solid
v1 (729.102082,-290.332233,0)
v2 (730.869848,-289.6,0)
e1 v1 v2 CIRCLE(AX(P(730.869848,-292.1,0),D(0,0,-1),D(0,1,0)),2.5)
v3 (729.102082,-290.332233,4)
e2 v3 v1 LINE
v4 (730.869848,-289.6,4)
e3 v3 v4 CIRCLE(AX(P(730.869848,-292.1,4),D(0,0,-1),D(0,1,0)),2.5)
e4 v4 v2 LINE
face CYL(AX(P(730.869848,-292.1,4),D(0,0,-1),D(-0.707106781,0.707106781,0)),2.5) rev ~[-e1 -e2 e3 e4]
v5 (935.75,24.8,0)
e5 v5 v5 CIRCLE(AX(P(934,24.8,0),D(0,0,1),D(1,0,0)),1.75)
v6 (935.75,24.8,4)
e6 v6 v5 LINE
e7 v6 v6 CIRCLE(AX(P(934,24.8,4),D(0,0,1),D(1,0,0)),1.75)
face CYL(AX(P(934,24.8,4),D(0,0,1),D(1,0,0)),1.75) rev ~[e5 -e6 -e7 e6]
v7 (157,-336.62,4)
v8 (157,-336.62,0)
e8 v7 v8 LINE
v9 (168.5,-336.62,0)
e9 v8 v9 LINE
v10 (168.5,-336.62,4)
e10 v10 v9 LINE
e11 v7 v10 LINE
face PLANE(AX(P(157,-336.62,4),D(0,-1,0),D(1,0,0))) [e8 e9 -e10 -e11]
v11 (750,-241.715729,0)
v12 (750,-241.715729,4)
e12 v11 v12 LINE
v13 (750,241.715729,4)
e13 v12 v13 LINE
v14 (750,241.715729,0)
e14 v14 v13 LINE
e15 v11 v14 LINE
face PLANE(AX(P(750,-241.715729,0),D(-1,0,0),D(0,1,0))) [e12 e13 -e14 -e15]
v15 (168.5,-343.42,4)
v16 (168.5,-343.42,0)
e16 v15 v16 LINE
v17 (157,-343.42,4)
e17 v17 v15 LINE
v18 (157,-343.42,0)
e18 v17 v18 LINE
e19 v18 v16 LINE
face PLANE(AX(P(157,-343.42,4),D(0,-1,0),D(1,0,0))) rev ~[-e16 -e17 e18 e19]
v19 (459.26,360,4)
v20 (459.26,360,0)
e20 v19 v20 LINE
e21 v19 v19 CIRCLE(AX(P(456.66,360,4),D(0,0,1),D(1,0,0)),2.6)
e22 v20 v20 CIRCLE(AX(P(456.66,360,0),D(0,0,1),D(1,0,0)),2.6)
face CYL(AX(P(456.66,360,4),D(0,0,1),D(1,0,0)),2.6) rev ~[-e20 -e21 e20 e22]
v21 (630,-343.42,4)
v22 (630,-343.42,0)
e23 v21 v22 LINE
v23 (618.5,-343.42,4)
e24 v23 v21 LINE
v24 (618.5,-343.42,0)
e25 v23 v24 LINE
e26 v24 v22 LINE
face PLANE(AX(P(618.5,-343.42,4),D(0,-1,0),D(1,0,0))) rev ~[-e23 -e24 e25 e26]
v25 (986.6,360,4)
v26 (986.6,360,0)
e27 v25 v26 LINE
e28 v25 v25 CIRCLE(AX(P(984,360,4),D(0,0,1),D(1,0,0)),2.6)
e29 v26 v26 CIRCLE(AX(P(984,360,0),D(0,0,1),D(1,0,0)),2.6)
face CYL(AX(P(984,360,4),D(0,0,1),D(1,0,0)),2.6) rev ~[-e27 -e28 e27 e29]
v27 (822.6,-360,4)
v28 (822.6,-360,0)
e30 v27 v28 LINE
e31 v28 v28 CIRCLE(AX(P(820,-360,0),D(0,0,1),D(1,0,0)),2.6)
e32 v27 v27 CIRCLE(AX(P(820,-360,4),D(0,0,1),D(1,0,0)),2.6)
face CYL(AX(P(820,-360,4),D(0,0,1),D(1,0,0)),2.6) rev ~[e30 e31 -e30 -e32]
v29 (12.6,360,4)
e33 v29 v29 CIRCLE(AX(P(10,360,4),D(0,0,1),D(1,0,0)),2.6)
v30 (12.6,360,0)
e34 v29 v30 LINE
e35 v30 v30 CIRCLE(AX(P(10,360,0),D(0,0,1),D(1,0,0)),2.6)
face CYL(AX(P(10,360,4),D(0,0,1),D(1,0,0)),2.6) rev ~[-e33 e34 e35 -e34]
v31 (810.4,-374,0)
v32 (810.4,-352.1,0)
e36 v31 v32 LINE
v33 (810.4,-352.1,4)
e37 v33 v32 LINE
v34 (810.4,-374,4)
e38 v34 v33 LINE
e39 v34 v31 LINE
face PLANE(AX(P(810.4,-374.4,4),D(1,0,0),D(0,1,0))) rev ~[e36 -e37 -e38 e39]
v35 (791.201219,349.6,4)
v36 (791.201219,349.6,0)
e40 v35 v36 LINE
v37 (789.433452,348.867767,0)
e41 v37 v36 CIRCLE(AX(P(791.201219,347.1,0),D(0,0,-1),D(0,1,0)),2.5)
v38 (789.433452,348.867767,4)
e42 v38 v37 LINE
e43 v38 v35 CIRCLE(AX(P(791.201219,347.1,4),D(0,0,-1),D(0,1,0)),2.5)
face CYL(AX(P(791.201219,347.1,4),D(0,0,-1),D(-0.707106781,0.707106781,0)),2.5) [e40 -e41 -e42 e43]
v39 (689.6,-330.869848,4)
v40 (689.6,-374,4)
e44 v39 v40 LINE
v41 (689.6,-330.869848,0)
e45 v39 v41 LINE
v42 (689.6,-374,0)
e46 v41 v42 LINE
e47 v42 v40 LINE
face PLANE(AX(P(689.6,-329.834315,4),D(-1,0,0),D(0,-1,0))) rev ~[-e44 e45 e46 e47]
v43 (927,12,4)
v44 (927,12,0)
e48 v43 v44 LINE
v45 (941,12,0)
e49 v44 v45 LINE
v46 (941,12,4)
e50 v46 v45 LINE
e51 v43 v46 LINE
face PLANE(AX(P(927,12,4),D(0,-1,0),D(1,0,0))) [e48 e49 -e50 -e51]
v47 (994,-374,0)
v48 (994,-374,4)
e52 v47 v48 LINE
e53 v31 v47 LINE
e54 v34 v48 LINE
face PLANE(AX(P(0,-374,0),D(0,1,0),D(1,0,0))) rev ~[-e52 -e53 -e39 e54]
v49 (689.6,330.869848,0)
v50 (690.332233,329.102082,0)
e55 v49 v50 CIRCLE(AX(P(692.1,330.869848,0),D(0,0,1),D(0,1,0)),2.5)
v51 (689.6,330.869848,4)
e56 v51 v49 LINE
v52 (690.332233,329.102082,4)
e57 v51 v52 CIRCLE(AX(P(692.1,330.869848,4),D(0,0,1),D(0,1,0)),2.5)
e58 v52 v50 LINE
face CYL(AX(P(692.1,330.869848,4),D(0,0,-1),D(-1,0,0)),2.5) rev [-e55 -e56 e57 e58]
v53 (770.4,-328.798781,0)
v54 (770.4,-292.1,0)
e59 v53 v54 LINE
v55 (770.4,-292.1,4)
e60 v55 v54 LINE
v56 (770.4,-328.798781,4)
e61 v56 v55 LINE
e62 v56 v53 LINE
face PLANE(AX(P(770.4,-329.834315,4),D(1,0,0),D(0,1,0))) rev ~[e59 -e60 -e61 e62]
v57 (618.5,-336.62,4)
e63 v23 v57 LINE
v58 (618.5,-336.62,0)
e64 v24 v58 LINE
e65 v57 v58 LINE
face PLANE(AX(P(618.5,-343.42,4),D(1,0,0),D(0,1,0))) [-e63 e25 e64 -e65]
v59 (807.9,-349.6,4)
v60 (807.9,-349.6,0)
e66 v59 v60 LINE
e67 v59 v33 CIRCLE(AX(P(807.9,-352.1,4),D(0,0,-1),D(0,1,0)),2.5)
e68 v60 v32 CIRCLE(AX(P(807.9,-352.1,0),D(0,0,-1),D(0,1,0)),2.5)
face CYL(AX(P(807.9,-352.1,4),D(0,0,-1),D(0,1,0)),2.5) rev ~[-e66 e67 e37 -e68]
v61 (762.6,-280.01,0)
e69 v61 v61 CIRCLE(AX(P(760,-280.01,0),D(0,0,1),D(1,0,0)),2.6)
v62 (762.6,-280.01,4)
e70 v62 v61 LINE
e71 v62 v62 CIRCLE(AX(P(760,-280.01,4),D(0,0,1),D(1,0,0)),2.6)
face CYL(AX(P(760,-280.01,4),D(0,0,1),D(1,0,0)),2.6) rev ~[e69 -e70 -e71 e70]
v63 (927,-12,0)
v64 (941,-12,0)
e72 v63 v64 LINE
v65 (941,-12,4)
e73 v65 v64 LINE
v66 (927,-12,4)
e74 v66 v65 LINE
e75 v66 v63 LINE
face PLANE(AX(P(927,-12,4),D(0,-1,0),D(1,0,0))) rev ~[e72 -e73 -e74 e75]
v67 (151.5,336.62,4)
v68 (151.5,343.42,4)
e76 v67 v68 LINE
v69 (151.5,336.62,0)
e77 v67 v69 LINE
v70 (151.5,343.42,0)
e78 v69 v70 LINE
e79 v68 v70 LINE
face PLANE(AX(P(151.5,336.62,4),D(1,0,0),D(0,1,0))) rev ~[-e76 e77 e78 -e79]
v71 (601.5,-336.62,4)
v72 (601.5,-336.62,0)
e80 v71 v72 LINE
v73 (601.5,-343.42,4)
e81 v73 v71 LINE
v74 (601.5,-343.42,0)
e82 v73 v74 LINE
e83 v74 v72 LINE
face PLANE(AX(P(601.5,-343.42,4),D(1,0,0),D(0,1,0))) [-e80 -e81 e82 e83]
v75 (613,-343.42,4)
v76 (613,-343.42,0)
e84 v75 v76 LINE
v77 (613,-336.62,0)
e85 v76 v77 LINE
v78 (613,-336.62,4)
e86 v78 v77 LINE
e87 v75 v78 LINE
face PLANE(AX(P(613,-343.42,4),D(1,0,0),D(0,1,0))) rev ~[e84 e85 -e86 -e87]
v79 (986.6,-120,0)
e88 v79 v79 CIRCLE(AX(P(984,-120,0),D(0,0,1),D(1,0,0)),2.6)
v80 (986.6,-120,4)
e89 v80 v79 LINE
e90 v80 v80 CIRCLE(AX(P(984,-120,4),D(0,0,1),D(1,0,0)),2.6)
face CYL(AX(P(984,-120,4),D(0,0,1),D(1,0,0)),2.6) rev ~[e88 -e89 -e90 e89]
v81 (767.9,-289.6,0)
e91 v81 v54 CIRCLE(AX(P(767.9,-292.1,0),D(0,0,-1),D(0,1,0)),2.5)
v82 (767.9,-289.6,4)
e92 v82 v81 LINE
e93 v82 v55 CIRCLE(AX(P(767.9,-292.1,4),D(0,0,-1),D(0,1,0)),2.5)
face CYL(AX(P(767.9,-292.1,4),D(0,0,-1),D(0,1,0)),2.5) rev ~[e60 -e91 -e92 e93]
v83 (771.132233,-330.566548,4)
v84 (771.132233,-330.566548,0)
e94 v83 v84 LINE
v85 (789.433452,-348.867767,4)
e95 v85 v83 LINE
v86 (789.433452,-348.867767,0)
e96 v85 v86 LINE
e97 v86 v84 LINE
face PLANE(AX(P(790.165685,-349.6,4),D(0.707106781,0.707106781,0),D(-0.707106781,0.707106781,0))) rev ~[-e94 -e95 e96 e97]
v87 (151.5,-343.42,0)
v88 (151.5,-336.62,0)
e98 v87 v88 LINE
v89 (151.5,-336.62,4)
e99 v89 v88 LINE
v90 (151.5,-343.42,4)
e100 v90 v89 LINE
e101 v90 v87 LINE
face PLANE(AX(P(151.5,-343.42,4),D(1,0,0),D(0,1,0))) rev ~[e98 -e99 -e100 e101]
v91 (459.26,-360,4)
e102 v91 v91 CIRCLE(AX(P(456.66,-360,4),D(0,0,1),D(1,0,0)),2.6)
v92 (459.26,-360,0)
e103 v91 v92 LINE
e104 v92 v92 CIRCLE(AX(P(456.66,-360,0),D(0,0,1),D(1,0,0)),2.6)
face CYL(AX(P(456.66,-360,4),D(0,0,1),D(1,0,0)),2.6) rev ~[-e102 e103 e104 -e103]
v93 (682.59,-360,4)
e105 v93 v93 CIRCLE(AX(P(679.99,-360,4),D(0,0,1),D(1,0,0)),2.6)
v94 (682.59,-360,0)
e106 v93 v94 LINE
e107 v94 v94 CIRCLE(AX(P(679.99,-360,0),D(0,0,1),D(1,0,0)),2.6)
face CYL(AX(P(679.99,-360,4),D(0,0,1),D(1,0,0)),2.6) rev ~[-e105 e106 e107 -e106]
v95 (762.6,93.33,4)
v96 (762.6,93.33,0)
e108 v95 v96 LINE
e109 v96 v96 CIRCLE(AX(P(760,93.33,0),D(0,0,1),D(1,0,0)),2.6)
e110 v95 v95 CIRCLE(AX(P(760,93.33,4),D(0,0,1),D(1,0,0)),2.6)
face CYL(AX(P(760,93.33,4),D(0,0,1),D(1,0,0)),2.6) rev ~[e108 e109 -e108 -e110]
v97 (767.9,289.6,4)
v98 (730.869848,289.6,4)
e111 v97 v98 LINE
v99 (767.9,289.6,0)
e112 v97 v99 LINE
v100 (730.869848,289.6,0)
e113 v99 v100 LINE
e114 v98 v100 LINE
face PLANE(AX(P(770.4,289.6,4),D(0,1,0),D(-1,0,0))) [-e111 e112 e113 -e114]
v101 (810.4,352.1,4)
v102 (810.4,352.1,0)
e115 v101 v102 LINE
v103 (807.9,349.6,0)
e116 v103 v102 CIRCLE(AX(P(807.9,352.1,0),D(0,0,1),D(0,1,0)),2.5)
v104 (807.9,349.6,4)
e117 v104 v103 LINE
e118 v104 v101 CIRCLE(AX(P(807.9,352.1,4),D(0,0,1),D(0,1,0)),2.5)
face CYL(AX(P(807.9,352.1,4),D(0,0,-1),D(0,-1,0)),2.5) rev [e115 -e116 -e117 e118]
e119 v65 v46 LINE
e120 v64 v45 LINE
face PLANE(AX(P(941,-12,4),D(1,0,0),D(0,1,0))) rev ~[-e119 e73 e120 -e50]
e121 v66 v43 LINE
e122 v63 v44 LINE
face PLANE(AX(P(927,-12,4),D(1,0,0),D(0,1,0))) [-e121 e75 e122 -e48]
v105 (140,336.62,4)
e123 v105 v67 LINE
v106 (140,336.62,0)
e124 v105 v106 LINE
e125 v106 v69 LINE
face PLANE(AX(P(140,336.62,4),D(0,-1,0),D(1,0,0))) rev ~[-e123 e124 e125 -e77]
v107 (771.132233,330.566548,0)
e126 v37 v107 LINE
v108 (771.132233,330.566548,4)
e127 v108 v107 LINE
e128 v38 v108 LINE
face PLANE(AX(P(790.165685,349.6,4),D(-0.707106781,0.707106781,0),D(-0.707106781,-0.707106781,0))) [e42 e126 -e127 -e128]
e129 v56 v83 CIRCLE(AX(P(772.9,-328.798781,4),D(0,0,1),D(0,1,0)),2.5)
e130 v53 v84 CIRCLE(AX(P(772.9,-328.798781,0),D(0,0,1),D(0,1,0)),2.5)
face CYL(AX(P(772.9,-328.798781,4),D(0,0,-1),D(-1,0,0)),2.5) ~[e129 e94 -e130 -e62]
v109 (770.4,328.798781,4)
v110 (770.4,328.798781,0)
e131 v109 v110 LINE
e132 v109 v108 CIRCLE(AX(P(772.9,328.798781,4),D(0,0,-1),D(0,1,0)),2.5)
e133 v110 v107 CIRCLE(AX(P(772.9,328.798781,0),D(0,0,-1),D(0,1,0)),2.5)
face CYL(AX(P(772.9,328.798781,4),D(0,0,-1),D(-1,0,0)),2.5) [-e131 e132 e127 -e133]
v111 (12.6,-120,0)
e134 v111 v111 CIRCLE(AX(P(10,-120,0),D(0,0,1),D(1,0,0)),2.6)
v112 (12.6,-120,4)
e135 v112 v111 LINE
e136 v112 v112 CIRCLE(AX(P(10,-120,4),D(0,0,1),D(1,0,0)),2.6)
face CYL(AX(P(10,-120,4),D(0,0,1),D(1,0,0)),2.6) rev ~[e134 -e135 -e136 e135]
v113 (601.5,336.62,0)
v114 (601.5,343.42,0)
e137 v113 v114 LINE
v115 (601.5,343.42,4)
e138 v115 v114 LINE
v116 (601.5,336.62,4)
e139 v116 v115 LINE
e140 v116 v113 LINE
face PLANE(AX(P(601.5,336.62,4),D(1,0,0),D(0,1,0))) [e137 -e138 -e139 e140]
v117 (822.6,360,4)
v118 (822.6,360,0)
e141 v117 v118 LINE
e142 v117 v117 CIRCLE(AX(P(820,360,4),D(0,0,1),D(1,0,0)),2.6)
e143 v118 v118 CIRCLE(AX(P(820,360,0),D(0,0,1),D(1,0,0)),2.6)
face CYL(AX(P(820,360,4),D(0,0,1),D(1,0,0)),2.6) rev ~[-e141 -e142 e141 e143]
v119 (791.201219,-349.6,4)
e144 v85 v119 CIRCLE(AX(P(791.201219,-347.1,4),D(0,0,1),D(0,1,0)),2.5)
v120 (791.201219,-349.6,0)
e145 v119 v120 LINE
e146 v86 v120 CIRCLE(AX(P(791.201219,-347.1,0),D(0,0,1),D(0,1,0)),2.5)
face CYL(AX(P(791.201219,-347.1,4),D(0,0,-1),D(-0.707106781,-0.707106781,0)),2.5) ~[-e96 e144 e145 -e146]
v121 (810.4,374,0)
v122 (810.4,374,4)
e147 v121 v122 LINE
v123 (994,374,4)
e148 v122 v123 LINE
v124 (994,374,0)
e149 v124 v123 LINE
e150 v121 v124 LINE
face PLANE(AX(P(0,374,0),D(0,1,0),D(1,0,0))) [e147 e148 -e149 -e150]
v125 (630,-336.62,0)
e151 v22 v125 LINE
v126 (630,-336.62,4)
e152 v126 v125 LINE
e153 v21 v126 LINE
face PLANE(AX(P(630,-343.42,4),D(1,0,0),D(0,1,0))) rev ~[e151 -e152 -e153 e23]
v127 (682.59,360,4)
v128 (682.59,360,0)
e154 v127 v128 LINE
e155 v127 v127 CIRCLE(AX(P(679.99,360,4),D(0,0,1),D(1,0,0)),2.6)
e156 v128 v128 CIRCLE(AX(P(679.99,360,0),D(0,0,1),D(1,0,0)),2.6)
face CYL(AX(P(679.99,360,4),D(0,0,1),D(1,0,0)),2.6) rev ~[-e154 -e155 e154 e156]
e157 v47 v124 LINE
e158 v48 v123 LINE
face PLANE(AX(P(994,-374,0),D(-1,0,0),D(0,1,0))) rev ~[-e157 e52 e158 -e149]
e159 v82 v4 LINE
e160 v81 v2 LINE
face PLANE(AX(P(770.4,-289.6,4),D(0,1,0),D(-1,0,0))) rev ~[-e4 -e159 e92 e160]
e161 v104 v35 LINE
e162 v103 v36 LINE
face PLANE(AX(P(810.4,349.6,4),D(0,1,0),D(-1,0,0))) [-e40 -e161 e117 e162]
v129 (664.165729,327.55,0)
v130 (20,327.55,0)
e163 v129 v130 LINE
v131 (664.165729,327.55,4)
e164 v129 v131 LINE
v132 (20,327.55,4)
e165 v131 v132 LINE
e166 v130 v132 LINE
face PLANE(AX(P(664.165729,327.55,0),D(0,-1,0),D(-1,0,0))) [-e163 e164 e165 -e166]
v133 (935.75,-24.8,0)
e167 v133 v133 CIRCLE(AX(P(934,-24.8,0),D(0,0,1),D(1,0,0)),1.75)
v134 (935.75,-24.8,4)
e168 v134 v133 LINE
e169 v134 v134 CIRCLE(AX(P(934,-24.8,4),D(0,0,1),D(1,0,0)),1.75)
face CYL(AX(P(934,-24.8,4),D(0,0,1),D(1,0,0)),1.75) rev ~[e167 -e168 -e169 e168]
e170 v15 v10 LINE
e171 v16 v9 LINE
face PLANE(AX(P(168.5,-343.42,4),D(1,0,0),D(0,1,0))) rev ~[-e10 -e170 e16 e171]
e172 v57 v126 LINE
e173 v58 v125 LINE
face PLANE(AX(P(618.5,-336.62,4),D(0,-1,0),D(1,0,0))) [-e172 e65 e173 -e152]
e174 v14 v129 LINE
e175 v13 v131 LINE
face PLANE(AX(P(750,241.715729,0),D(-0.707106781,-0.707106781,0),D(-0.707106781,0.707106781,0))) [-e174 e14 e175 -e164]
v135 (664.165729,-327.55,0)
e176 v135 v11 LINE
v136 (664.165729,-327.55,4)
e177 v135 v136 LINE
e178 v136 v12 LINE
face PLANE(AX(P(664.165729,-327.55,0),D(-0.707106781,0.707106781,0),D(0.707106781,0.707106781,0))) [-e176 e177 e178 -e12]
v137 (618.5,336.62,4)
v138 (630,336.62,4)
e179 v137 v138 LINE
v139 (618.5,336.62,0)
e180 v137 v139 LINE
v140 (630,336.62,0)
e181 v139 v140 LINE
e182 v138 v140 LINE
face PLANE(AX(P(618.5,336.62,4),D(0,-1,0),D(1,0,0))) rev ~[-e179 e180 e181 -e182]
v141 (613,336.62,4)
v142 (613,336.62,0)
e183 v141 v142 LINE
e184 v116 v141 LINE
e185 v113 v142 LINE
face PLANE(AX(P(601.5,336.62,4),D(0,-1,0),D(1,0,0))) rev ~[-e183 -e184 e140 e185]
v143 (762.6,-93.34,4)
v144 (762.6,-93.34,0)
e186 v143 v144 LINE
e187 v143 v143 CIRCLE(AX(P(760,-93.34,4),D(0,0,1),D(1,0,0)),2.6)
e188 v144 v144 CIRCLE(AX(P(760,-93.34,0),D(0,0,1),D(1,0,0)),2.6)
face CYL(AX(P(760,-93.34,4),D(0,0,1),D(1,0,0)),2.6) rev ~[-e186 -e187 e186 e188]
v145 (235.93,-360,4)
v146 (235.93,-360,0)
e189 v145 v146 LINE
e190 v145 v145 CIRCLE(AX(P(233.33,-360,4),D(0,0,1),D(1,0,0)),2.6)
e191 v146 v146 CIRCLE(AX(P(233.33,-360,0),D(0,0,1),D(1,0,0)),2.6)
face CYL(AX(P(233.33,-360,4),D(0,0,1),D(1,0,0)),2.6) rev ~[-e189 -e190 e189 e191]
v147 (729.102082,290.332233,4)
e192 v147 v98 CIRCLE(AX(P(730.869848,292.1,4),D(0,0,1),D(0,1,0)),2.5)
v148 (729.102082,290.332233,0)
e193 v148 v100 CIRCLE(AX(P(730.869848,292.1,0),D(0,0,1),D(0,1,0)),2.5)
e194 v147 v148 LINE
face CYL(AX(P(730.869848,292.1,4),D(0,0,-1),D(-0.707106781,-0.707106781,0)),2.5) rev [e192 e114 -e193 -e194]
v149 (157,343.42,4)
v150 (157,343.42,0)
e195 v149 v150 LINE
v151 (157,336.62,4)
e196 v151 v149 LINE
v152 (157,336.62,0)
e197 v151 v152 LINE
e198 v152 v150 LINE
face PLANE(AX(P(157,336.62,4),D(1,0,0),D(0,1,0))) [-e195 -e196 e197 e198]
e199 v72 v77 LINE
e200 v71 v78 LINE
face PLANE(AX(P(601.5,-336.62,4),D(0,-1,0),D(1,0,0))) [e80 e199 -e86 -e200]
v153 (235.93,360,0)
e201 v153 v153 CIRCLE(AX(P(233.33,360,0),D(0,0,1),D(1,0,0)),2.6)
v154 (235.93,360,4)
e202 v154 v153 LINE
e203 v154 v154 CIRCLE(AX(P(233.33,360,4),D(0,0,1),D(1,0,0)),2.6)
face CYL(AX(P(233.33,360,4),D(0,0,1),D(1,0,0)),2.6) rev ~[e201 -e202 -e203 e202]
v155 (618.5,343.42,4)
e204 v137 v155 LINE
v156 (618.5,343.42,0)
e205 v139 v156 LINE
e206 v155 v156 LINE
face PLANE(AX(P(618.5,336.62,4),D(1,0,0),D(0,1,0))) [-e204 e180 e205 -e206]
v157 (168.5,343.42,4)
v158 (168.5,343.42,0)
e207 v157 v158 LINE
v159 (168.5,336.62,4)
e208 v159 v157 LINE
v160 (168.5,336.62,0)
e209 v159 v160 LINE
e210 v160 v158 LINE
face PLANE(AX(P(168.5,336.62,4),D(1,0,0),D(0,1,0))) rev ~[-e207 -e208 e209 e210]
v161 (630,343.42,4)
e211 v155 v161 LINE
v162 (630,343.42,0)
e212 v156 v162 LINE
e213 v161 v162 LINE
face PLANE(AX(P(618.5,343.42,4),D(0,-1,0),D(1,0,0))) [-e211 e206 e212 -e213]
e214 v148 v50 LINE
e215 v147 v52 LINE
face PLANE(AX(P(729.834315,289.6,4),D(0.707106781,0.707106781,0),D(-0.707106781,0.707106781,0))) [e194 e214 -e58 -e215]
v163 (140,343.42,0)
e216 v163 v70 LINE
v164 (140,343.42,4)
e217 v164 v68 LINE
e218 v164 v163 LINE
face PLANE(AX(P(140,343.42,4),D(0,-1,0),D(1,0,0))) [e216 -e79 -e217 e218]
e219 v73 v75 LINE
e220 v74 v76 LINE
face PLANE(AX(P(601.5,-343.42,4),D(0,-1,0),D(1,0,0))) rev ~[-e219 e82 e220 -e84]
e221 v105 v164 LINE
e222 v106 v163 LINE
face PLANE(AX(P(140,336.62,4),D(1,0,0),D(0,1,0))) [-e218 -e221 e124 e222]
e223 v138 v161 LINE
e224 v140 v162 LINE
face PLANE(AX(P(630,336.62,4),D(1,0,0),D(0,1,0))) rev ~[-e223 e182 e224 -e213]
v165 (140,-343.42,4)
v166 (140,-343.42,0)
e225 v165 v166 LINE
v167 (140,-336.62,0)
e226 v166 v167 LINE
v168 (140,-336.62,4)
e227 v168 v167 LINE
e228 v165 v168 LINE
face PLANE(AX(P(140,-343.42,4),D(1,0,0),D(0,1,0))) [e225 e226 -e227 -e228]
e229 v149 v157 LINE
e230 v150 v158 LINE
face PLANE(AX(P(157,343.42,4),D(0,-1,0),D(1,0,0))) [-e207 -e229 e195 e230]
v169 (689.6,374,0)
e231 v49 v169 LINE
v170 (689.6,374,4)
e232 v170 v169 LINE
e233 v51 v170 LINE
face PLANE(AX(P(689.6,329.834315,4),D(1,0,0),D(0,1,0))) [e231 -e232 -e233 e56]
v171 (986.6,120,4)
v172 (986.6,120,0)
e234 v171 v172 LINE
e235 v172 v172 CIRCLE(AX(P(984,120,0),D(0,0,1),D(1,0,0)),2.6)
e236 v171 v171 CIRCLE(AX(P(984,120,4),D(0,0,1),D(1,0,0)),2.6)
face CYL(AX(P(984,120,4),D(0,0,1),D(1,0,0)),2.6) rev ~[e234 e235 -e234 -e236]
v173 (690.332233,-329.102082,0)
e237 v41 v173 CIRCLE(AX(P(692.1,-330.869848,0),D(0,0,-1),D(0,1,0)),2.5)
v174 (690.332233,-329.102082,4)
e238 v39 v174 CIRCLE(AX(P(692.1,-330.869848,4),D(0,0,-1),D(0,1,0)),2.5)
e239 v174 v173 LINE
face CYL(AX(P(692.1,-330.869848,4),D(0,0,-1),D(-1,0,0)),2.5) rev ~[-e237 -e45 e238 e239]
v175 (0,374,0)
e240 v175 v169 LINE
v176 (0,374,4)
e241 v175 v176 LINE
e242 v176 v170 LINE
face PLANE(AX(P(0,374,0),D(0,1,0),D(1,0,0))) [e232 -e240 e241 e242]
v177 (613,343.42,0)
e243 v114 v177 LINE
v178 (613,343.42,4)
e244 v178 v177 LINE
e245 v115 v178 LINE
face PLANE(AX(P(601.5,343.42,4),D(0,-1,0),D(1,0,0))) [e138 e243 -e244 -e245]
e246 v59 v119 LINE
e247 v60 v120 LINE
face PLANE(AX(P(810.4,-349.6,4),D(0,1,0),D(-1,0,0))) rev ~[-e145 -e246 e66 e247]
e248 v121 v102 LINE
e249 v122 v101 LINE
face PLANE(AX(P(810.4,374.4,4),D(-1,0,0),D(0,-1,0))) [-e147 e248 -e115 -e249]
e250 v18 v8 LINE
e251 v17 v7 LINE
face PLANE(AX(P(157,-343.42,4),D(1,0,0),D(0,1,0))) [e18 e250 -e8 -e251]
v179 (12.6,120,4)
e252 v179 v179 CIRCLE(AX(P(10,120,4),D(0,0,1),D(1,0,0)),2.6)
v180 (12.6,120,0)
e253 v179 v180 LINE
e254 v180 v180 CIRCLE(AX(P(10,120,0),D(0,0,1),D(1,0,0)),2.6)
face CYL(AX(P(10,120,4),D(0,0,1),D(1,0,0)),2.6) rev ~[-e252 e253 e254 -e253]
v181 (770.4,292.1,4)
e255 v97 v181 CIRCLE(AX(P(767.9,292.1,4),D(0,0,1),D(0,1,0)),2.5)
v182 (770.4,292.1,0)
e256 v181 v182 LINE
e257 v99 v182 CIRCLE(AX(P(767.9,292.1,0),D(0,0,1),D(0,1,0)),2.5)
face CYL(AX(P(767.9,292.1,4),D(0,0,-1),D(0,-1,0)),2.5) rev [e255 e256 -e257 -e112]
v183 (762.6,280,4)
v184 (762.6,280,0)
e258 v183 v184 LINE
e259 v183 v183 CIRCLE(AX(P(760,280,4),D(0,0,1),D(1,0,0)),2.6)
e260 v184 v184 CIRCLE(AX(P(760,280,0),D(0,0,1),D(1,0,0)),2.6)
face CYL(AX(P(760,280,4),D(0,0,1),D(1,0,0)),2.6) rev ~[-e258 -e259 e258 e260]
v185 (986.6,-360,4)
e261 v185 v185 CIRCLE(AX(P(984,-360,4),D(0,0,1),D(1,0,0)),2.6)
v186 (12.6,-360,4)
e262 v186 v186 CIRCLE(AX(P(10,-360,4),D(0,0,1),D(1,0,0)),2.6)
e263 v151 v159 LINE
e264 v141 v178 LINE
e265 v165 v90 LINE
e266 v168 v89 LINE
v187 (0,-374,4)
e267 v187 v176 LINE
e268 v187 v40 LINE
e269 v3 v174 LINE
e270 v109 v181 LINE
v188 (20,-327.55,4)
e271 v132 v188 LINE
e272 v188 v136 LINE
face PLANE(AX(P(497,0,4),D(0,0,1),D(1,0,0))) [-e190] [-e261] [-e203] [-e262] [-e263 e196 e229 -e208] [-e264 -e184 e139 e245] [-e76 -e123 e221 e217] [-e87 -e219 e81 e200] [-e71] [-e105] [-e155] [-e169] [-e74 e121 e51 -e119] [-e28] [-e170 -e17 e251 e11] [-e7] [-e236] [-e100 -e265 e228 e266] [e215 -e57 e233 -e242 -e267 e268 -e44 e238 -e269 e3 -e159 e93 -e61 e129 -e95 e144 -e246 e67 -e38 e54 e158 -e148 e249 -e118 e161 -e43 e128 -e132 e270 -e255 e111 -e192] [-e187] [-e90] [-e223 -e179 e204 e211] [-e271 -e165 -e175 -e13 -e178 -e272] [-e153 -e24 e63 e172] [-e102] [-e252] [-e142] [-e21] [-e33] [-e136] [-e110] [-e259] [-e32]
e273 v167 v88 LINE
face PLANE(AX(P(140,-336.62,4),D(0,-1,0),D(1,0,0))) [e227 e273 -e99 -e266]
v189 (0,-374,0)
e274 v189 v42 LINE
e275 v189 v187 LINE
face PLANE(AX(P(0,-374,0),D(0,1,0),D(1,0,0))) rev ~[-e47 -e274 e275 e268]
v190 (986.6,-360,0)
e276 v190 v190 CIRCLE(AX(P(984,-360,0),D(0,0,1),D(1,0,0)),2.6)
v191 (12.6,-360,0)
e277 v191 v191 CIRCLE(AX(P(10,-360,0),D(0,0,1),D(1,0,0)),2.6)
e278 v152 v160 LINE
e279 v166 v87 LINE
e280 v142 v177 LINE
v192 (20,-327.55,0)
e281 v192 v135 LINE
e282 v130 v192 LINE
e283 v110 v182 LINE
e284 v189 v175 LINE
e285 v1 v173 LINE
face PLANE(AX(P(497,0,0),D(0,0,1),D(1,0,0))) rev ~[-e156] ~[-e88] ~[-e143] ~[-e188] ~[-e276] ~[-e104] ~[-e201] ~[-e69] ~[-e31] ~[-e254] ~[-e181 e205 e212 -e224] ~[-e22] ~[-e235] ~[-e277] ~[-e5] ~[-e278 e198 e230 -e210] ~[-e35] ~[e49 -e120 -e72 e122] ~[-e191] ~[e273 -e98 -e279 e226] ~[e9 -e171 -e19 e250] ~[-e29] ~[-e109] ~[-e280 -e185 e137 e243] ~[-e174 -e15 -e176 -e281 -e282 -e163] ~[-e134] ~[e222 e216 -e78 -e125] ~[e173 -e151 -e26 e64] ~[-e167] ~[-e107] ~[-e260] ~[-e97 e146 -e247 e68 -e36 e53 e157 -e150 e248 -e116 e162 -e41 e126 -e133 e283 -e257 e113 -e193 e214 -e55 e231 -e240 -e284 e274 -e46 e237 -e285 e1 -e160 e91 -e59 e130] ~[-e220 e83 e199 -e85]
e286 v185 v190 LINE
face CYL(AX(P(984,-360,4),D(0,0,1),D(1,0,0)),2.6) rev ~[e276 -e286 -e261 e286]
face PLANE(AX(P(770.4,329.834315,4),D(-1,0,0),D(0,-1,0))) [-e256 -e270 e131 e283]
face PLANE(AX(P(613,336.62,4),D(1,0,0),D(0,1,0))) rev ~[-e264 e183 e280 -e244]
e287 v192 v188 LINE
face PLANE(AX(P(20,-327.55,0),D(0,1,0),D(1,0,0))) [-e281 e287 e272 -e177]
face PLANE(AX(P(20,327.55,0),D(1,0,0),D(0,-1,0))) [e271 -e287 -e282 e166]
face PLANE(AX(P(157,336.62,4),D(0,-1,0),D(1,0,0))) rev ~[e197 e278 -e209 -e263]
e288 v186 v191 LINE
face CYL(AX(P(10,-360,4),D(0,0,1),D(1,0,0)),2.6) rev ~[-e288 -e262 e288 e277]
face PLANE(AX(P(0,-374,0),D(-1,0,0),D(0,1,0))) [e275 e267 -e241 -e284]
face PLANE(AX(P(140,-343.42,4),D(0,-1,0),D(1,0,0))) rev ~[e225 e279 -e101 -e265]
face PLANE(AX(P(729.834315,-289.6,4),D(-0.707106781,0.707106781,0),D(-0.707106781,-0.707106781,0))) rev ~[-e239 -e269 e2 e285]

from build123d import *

# Parameters (mm, degrees)
SKETCH_1_W          = 994
SKETCH_1_H          = 748
EXTRUDE_1_DEPTH     = 4
CUT_EXTRUDE_6_DEPTH = 1063.039547286
SKETCH_2_W          = 11.5
SKETCH_2_H          = 6.8
CUT_EXTRUDE_1_DEPTH = 1063.039547286
SKETCH_3_R          = 2.6
CUT_EXTRUDE_4_DEPTH = 1063.039547286
SKETCH_6_R          = 1.75
SKETCH_6_W          = 14
SKETCH_6_H          = 24
CUT_EXTRUDE_7_DEPTH = 1063.039547286
FILLET_1_R          = 2.5


with BuildPart() as part:
    # Эскиз1 → Бобышка-Вытянуть1 (new body)
    with BuildSketch(Plane.XY):
        with Locations((497, 0)):
            Rectangle(SKETCH_1_W, SKETCH_1_H)
        Polygon((20, 327.55), (20, -327.55), (664.165728753, -327.55), (750, -241.715728753), (750, 241.715728753), (664.165728753, 327.55), align=None, mode=Mode.SUBTRACT)
    extrude(amount=EXTRUDE_1_DEPTH)

    # Эскиз5 → Вырез-Вытянуть6 (cut, through all)
    with BuildSketch(Plane.XY.offset(4)):
        Polygon((689.6, 329.834314575), (689.6, 374.4), (810.4, 374.4), (810.4, 349.6), (790.165685425, 349.6), (770.4, 329.834314575), (770.4, 289.6), (729.834314575, 289.6), align=None)
        Polygon((770.4, -329.834314575), (770.4, -289.6), (729.834314575, -289.6), (689.6, -329.834314575), (689.6, -374.4), (810.4, -374.4), (810.4, -349.6), (790.165685425, -349.6), align=None)
    extrude(amount=-CUT_EXTRUDE_6_DEPTH, mode=Mode.SUBTRACT)

    # Эскиз2 → Вырез-Вытянуть1 (cut, through all)
    with BuildSketch(Plane.XY.offset(4)):
        with Locations((607.25, 340.02)):
            Rectangle(SKETCH_2_W, SKETCH_2_H)
        with Locations((624.25, 340.02)):
            Rectangle(SKETCH_2_W, SKETCH_2_H)
        with Locations((624.25, -340.02)):
            Rectangle(SKETCH_2_W, SKETCH_2_H)
        with Locations((607.25, -340.02)):
            Rectangle(SKETCH_2_W, SKETCH_2_H)
        with Locations((145.75, 340.02)):
            Rectangle(SKETCH_2_W, SKETCH_2_H)
        with Locations((162.75, 340.02)):
            Rectangle(SKETCH_2_W, SKETCH_2_H)
        with Locations((145.75, -340.02)):
            Rectangle(SKETCH_2_W, SKETCH_2_H)
        with Locations((162.75, -340.02)):
            Rectangle(SKETCH_2_W, SKETCH_2_H)
    extrude(amount=-CUT_EXTRUDE_1_DEPTH, mode=Mode.SUBTRACT)

    # Эскиз3 → Вырез-Вытянуть4 (cut, through all)
    with BuildSketch(Plane.XY.offset(4)):
        with Locations((10, 360)):
            Circle(SKETCH_3_R)
        with Locations((10, 120)):
            Circle(SKETCH_3_R)
        with Locations((10, -120)):
            Circle(SKETCH_3_R)
        with Locations((10, -360)):
            Circle(SKETCH_3_R)
        with Locations((233.33, 360)):
            Circle(SKETCH_3_R)
        with Locations((456.66, 360)):
            Circle(SKETCH_3_R)
        with Locations((679.99, 360)):
            Circle(SKETCH_3_R)
        with Locations((233.33, -360)):
            Circle(SKETCH_3_R)
        with Locations((456.66, -360)):
            Circle(SKETCH_3_R)
        with Locations((679.99, -360)):
            Circle(SKETCH_3_R)
        with Locations((984, 360)):
            Circle(SKETCH_3_R)
        with Locations((984, 120)):
            Circle(SKETCH_3_R)
        with Locations((984, -120)):
            Circle(SKETCH_3_R)
        with Locations((984, -360)):
            Circle(SKETCH_3_R)
        with Locations((820, -360)):
            Circle(SKETCH_3_R)
        with Locations((820, 360)):
            Circle(SKETCH_3_R)
        with Locations((760, 280)):
            Circle(SKETCH_3_R)
        with Locations((760, 93.33)):
            Circle(SKETCH_3_R)
        with Locations((760, -93.34)):
            Circle(SKETCH_3_R)
        with Locations((760, -280.01)):
            Circle(SKETCH_3_R)
    extrude(amount=-CUT_EXTRUDE_4_DEPTH, mode=Mode.SUBTRACT)

    # Эскиз6 → Вырез-Вытянуть7 (cut, through all)
    with BuildSketch(Plane.XY.offset(4)):
        with Locations((934, 24.8)):
            Circle(SKETCH_6_R)
        with Locations((934, -24.8)):
            Circle(SKETCH_6_R)
        with Locations((934, 0)):
            Rectangle(SKETCH_6_W, SKETCH_6_H)
    extrude(amount=-CUT_EXTRUDE_7_DEPTH, mode=Mode.SUBTRACT)

    # Скругление1
    fillet_1_edges = [part.edges().sort_by_distance(p)[0] for p in [
        (689.6, 329.834314575, 2),
        (729.834314575, 289.6, 2),
        (810.4, 349.6, 2),
        (790.165685425, 349.6, 2),
        (770.4, 329.834314575, 2),
        (770.4, 289.6, 2),
        (810.4, -349.6, 2),
        (689.6, -329.834314575, 2),
        (729.834314575, -289.6, 2),
        (770.4, -289.6, 2),
        (770.4, -329.834314575, 2),
        (790.165685425, -349.6, 2),
    ]]
    fillet(fillet_1_edges, radius=FILLET_1_R)


solid = part.part
